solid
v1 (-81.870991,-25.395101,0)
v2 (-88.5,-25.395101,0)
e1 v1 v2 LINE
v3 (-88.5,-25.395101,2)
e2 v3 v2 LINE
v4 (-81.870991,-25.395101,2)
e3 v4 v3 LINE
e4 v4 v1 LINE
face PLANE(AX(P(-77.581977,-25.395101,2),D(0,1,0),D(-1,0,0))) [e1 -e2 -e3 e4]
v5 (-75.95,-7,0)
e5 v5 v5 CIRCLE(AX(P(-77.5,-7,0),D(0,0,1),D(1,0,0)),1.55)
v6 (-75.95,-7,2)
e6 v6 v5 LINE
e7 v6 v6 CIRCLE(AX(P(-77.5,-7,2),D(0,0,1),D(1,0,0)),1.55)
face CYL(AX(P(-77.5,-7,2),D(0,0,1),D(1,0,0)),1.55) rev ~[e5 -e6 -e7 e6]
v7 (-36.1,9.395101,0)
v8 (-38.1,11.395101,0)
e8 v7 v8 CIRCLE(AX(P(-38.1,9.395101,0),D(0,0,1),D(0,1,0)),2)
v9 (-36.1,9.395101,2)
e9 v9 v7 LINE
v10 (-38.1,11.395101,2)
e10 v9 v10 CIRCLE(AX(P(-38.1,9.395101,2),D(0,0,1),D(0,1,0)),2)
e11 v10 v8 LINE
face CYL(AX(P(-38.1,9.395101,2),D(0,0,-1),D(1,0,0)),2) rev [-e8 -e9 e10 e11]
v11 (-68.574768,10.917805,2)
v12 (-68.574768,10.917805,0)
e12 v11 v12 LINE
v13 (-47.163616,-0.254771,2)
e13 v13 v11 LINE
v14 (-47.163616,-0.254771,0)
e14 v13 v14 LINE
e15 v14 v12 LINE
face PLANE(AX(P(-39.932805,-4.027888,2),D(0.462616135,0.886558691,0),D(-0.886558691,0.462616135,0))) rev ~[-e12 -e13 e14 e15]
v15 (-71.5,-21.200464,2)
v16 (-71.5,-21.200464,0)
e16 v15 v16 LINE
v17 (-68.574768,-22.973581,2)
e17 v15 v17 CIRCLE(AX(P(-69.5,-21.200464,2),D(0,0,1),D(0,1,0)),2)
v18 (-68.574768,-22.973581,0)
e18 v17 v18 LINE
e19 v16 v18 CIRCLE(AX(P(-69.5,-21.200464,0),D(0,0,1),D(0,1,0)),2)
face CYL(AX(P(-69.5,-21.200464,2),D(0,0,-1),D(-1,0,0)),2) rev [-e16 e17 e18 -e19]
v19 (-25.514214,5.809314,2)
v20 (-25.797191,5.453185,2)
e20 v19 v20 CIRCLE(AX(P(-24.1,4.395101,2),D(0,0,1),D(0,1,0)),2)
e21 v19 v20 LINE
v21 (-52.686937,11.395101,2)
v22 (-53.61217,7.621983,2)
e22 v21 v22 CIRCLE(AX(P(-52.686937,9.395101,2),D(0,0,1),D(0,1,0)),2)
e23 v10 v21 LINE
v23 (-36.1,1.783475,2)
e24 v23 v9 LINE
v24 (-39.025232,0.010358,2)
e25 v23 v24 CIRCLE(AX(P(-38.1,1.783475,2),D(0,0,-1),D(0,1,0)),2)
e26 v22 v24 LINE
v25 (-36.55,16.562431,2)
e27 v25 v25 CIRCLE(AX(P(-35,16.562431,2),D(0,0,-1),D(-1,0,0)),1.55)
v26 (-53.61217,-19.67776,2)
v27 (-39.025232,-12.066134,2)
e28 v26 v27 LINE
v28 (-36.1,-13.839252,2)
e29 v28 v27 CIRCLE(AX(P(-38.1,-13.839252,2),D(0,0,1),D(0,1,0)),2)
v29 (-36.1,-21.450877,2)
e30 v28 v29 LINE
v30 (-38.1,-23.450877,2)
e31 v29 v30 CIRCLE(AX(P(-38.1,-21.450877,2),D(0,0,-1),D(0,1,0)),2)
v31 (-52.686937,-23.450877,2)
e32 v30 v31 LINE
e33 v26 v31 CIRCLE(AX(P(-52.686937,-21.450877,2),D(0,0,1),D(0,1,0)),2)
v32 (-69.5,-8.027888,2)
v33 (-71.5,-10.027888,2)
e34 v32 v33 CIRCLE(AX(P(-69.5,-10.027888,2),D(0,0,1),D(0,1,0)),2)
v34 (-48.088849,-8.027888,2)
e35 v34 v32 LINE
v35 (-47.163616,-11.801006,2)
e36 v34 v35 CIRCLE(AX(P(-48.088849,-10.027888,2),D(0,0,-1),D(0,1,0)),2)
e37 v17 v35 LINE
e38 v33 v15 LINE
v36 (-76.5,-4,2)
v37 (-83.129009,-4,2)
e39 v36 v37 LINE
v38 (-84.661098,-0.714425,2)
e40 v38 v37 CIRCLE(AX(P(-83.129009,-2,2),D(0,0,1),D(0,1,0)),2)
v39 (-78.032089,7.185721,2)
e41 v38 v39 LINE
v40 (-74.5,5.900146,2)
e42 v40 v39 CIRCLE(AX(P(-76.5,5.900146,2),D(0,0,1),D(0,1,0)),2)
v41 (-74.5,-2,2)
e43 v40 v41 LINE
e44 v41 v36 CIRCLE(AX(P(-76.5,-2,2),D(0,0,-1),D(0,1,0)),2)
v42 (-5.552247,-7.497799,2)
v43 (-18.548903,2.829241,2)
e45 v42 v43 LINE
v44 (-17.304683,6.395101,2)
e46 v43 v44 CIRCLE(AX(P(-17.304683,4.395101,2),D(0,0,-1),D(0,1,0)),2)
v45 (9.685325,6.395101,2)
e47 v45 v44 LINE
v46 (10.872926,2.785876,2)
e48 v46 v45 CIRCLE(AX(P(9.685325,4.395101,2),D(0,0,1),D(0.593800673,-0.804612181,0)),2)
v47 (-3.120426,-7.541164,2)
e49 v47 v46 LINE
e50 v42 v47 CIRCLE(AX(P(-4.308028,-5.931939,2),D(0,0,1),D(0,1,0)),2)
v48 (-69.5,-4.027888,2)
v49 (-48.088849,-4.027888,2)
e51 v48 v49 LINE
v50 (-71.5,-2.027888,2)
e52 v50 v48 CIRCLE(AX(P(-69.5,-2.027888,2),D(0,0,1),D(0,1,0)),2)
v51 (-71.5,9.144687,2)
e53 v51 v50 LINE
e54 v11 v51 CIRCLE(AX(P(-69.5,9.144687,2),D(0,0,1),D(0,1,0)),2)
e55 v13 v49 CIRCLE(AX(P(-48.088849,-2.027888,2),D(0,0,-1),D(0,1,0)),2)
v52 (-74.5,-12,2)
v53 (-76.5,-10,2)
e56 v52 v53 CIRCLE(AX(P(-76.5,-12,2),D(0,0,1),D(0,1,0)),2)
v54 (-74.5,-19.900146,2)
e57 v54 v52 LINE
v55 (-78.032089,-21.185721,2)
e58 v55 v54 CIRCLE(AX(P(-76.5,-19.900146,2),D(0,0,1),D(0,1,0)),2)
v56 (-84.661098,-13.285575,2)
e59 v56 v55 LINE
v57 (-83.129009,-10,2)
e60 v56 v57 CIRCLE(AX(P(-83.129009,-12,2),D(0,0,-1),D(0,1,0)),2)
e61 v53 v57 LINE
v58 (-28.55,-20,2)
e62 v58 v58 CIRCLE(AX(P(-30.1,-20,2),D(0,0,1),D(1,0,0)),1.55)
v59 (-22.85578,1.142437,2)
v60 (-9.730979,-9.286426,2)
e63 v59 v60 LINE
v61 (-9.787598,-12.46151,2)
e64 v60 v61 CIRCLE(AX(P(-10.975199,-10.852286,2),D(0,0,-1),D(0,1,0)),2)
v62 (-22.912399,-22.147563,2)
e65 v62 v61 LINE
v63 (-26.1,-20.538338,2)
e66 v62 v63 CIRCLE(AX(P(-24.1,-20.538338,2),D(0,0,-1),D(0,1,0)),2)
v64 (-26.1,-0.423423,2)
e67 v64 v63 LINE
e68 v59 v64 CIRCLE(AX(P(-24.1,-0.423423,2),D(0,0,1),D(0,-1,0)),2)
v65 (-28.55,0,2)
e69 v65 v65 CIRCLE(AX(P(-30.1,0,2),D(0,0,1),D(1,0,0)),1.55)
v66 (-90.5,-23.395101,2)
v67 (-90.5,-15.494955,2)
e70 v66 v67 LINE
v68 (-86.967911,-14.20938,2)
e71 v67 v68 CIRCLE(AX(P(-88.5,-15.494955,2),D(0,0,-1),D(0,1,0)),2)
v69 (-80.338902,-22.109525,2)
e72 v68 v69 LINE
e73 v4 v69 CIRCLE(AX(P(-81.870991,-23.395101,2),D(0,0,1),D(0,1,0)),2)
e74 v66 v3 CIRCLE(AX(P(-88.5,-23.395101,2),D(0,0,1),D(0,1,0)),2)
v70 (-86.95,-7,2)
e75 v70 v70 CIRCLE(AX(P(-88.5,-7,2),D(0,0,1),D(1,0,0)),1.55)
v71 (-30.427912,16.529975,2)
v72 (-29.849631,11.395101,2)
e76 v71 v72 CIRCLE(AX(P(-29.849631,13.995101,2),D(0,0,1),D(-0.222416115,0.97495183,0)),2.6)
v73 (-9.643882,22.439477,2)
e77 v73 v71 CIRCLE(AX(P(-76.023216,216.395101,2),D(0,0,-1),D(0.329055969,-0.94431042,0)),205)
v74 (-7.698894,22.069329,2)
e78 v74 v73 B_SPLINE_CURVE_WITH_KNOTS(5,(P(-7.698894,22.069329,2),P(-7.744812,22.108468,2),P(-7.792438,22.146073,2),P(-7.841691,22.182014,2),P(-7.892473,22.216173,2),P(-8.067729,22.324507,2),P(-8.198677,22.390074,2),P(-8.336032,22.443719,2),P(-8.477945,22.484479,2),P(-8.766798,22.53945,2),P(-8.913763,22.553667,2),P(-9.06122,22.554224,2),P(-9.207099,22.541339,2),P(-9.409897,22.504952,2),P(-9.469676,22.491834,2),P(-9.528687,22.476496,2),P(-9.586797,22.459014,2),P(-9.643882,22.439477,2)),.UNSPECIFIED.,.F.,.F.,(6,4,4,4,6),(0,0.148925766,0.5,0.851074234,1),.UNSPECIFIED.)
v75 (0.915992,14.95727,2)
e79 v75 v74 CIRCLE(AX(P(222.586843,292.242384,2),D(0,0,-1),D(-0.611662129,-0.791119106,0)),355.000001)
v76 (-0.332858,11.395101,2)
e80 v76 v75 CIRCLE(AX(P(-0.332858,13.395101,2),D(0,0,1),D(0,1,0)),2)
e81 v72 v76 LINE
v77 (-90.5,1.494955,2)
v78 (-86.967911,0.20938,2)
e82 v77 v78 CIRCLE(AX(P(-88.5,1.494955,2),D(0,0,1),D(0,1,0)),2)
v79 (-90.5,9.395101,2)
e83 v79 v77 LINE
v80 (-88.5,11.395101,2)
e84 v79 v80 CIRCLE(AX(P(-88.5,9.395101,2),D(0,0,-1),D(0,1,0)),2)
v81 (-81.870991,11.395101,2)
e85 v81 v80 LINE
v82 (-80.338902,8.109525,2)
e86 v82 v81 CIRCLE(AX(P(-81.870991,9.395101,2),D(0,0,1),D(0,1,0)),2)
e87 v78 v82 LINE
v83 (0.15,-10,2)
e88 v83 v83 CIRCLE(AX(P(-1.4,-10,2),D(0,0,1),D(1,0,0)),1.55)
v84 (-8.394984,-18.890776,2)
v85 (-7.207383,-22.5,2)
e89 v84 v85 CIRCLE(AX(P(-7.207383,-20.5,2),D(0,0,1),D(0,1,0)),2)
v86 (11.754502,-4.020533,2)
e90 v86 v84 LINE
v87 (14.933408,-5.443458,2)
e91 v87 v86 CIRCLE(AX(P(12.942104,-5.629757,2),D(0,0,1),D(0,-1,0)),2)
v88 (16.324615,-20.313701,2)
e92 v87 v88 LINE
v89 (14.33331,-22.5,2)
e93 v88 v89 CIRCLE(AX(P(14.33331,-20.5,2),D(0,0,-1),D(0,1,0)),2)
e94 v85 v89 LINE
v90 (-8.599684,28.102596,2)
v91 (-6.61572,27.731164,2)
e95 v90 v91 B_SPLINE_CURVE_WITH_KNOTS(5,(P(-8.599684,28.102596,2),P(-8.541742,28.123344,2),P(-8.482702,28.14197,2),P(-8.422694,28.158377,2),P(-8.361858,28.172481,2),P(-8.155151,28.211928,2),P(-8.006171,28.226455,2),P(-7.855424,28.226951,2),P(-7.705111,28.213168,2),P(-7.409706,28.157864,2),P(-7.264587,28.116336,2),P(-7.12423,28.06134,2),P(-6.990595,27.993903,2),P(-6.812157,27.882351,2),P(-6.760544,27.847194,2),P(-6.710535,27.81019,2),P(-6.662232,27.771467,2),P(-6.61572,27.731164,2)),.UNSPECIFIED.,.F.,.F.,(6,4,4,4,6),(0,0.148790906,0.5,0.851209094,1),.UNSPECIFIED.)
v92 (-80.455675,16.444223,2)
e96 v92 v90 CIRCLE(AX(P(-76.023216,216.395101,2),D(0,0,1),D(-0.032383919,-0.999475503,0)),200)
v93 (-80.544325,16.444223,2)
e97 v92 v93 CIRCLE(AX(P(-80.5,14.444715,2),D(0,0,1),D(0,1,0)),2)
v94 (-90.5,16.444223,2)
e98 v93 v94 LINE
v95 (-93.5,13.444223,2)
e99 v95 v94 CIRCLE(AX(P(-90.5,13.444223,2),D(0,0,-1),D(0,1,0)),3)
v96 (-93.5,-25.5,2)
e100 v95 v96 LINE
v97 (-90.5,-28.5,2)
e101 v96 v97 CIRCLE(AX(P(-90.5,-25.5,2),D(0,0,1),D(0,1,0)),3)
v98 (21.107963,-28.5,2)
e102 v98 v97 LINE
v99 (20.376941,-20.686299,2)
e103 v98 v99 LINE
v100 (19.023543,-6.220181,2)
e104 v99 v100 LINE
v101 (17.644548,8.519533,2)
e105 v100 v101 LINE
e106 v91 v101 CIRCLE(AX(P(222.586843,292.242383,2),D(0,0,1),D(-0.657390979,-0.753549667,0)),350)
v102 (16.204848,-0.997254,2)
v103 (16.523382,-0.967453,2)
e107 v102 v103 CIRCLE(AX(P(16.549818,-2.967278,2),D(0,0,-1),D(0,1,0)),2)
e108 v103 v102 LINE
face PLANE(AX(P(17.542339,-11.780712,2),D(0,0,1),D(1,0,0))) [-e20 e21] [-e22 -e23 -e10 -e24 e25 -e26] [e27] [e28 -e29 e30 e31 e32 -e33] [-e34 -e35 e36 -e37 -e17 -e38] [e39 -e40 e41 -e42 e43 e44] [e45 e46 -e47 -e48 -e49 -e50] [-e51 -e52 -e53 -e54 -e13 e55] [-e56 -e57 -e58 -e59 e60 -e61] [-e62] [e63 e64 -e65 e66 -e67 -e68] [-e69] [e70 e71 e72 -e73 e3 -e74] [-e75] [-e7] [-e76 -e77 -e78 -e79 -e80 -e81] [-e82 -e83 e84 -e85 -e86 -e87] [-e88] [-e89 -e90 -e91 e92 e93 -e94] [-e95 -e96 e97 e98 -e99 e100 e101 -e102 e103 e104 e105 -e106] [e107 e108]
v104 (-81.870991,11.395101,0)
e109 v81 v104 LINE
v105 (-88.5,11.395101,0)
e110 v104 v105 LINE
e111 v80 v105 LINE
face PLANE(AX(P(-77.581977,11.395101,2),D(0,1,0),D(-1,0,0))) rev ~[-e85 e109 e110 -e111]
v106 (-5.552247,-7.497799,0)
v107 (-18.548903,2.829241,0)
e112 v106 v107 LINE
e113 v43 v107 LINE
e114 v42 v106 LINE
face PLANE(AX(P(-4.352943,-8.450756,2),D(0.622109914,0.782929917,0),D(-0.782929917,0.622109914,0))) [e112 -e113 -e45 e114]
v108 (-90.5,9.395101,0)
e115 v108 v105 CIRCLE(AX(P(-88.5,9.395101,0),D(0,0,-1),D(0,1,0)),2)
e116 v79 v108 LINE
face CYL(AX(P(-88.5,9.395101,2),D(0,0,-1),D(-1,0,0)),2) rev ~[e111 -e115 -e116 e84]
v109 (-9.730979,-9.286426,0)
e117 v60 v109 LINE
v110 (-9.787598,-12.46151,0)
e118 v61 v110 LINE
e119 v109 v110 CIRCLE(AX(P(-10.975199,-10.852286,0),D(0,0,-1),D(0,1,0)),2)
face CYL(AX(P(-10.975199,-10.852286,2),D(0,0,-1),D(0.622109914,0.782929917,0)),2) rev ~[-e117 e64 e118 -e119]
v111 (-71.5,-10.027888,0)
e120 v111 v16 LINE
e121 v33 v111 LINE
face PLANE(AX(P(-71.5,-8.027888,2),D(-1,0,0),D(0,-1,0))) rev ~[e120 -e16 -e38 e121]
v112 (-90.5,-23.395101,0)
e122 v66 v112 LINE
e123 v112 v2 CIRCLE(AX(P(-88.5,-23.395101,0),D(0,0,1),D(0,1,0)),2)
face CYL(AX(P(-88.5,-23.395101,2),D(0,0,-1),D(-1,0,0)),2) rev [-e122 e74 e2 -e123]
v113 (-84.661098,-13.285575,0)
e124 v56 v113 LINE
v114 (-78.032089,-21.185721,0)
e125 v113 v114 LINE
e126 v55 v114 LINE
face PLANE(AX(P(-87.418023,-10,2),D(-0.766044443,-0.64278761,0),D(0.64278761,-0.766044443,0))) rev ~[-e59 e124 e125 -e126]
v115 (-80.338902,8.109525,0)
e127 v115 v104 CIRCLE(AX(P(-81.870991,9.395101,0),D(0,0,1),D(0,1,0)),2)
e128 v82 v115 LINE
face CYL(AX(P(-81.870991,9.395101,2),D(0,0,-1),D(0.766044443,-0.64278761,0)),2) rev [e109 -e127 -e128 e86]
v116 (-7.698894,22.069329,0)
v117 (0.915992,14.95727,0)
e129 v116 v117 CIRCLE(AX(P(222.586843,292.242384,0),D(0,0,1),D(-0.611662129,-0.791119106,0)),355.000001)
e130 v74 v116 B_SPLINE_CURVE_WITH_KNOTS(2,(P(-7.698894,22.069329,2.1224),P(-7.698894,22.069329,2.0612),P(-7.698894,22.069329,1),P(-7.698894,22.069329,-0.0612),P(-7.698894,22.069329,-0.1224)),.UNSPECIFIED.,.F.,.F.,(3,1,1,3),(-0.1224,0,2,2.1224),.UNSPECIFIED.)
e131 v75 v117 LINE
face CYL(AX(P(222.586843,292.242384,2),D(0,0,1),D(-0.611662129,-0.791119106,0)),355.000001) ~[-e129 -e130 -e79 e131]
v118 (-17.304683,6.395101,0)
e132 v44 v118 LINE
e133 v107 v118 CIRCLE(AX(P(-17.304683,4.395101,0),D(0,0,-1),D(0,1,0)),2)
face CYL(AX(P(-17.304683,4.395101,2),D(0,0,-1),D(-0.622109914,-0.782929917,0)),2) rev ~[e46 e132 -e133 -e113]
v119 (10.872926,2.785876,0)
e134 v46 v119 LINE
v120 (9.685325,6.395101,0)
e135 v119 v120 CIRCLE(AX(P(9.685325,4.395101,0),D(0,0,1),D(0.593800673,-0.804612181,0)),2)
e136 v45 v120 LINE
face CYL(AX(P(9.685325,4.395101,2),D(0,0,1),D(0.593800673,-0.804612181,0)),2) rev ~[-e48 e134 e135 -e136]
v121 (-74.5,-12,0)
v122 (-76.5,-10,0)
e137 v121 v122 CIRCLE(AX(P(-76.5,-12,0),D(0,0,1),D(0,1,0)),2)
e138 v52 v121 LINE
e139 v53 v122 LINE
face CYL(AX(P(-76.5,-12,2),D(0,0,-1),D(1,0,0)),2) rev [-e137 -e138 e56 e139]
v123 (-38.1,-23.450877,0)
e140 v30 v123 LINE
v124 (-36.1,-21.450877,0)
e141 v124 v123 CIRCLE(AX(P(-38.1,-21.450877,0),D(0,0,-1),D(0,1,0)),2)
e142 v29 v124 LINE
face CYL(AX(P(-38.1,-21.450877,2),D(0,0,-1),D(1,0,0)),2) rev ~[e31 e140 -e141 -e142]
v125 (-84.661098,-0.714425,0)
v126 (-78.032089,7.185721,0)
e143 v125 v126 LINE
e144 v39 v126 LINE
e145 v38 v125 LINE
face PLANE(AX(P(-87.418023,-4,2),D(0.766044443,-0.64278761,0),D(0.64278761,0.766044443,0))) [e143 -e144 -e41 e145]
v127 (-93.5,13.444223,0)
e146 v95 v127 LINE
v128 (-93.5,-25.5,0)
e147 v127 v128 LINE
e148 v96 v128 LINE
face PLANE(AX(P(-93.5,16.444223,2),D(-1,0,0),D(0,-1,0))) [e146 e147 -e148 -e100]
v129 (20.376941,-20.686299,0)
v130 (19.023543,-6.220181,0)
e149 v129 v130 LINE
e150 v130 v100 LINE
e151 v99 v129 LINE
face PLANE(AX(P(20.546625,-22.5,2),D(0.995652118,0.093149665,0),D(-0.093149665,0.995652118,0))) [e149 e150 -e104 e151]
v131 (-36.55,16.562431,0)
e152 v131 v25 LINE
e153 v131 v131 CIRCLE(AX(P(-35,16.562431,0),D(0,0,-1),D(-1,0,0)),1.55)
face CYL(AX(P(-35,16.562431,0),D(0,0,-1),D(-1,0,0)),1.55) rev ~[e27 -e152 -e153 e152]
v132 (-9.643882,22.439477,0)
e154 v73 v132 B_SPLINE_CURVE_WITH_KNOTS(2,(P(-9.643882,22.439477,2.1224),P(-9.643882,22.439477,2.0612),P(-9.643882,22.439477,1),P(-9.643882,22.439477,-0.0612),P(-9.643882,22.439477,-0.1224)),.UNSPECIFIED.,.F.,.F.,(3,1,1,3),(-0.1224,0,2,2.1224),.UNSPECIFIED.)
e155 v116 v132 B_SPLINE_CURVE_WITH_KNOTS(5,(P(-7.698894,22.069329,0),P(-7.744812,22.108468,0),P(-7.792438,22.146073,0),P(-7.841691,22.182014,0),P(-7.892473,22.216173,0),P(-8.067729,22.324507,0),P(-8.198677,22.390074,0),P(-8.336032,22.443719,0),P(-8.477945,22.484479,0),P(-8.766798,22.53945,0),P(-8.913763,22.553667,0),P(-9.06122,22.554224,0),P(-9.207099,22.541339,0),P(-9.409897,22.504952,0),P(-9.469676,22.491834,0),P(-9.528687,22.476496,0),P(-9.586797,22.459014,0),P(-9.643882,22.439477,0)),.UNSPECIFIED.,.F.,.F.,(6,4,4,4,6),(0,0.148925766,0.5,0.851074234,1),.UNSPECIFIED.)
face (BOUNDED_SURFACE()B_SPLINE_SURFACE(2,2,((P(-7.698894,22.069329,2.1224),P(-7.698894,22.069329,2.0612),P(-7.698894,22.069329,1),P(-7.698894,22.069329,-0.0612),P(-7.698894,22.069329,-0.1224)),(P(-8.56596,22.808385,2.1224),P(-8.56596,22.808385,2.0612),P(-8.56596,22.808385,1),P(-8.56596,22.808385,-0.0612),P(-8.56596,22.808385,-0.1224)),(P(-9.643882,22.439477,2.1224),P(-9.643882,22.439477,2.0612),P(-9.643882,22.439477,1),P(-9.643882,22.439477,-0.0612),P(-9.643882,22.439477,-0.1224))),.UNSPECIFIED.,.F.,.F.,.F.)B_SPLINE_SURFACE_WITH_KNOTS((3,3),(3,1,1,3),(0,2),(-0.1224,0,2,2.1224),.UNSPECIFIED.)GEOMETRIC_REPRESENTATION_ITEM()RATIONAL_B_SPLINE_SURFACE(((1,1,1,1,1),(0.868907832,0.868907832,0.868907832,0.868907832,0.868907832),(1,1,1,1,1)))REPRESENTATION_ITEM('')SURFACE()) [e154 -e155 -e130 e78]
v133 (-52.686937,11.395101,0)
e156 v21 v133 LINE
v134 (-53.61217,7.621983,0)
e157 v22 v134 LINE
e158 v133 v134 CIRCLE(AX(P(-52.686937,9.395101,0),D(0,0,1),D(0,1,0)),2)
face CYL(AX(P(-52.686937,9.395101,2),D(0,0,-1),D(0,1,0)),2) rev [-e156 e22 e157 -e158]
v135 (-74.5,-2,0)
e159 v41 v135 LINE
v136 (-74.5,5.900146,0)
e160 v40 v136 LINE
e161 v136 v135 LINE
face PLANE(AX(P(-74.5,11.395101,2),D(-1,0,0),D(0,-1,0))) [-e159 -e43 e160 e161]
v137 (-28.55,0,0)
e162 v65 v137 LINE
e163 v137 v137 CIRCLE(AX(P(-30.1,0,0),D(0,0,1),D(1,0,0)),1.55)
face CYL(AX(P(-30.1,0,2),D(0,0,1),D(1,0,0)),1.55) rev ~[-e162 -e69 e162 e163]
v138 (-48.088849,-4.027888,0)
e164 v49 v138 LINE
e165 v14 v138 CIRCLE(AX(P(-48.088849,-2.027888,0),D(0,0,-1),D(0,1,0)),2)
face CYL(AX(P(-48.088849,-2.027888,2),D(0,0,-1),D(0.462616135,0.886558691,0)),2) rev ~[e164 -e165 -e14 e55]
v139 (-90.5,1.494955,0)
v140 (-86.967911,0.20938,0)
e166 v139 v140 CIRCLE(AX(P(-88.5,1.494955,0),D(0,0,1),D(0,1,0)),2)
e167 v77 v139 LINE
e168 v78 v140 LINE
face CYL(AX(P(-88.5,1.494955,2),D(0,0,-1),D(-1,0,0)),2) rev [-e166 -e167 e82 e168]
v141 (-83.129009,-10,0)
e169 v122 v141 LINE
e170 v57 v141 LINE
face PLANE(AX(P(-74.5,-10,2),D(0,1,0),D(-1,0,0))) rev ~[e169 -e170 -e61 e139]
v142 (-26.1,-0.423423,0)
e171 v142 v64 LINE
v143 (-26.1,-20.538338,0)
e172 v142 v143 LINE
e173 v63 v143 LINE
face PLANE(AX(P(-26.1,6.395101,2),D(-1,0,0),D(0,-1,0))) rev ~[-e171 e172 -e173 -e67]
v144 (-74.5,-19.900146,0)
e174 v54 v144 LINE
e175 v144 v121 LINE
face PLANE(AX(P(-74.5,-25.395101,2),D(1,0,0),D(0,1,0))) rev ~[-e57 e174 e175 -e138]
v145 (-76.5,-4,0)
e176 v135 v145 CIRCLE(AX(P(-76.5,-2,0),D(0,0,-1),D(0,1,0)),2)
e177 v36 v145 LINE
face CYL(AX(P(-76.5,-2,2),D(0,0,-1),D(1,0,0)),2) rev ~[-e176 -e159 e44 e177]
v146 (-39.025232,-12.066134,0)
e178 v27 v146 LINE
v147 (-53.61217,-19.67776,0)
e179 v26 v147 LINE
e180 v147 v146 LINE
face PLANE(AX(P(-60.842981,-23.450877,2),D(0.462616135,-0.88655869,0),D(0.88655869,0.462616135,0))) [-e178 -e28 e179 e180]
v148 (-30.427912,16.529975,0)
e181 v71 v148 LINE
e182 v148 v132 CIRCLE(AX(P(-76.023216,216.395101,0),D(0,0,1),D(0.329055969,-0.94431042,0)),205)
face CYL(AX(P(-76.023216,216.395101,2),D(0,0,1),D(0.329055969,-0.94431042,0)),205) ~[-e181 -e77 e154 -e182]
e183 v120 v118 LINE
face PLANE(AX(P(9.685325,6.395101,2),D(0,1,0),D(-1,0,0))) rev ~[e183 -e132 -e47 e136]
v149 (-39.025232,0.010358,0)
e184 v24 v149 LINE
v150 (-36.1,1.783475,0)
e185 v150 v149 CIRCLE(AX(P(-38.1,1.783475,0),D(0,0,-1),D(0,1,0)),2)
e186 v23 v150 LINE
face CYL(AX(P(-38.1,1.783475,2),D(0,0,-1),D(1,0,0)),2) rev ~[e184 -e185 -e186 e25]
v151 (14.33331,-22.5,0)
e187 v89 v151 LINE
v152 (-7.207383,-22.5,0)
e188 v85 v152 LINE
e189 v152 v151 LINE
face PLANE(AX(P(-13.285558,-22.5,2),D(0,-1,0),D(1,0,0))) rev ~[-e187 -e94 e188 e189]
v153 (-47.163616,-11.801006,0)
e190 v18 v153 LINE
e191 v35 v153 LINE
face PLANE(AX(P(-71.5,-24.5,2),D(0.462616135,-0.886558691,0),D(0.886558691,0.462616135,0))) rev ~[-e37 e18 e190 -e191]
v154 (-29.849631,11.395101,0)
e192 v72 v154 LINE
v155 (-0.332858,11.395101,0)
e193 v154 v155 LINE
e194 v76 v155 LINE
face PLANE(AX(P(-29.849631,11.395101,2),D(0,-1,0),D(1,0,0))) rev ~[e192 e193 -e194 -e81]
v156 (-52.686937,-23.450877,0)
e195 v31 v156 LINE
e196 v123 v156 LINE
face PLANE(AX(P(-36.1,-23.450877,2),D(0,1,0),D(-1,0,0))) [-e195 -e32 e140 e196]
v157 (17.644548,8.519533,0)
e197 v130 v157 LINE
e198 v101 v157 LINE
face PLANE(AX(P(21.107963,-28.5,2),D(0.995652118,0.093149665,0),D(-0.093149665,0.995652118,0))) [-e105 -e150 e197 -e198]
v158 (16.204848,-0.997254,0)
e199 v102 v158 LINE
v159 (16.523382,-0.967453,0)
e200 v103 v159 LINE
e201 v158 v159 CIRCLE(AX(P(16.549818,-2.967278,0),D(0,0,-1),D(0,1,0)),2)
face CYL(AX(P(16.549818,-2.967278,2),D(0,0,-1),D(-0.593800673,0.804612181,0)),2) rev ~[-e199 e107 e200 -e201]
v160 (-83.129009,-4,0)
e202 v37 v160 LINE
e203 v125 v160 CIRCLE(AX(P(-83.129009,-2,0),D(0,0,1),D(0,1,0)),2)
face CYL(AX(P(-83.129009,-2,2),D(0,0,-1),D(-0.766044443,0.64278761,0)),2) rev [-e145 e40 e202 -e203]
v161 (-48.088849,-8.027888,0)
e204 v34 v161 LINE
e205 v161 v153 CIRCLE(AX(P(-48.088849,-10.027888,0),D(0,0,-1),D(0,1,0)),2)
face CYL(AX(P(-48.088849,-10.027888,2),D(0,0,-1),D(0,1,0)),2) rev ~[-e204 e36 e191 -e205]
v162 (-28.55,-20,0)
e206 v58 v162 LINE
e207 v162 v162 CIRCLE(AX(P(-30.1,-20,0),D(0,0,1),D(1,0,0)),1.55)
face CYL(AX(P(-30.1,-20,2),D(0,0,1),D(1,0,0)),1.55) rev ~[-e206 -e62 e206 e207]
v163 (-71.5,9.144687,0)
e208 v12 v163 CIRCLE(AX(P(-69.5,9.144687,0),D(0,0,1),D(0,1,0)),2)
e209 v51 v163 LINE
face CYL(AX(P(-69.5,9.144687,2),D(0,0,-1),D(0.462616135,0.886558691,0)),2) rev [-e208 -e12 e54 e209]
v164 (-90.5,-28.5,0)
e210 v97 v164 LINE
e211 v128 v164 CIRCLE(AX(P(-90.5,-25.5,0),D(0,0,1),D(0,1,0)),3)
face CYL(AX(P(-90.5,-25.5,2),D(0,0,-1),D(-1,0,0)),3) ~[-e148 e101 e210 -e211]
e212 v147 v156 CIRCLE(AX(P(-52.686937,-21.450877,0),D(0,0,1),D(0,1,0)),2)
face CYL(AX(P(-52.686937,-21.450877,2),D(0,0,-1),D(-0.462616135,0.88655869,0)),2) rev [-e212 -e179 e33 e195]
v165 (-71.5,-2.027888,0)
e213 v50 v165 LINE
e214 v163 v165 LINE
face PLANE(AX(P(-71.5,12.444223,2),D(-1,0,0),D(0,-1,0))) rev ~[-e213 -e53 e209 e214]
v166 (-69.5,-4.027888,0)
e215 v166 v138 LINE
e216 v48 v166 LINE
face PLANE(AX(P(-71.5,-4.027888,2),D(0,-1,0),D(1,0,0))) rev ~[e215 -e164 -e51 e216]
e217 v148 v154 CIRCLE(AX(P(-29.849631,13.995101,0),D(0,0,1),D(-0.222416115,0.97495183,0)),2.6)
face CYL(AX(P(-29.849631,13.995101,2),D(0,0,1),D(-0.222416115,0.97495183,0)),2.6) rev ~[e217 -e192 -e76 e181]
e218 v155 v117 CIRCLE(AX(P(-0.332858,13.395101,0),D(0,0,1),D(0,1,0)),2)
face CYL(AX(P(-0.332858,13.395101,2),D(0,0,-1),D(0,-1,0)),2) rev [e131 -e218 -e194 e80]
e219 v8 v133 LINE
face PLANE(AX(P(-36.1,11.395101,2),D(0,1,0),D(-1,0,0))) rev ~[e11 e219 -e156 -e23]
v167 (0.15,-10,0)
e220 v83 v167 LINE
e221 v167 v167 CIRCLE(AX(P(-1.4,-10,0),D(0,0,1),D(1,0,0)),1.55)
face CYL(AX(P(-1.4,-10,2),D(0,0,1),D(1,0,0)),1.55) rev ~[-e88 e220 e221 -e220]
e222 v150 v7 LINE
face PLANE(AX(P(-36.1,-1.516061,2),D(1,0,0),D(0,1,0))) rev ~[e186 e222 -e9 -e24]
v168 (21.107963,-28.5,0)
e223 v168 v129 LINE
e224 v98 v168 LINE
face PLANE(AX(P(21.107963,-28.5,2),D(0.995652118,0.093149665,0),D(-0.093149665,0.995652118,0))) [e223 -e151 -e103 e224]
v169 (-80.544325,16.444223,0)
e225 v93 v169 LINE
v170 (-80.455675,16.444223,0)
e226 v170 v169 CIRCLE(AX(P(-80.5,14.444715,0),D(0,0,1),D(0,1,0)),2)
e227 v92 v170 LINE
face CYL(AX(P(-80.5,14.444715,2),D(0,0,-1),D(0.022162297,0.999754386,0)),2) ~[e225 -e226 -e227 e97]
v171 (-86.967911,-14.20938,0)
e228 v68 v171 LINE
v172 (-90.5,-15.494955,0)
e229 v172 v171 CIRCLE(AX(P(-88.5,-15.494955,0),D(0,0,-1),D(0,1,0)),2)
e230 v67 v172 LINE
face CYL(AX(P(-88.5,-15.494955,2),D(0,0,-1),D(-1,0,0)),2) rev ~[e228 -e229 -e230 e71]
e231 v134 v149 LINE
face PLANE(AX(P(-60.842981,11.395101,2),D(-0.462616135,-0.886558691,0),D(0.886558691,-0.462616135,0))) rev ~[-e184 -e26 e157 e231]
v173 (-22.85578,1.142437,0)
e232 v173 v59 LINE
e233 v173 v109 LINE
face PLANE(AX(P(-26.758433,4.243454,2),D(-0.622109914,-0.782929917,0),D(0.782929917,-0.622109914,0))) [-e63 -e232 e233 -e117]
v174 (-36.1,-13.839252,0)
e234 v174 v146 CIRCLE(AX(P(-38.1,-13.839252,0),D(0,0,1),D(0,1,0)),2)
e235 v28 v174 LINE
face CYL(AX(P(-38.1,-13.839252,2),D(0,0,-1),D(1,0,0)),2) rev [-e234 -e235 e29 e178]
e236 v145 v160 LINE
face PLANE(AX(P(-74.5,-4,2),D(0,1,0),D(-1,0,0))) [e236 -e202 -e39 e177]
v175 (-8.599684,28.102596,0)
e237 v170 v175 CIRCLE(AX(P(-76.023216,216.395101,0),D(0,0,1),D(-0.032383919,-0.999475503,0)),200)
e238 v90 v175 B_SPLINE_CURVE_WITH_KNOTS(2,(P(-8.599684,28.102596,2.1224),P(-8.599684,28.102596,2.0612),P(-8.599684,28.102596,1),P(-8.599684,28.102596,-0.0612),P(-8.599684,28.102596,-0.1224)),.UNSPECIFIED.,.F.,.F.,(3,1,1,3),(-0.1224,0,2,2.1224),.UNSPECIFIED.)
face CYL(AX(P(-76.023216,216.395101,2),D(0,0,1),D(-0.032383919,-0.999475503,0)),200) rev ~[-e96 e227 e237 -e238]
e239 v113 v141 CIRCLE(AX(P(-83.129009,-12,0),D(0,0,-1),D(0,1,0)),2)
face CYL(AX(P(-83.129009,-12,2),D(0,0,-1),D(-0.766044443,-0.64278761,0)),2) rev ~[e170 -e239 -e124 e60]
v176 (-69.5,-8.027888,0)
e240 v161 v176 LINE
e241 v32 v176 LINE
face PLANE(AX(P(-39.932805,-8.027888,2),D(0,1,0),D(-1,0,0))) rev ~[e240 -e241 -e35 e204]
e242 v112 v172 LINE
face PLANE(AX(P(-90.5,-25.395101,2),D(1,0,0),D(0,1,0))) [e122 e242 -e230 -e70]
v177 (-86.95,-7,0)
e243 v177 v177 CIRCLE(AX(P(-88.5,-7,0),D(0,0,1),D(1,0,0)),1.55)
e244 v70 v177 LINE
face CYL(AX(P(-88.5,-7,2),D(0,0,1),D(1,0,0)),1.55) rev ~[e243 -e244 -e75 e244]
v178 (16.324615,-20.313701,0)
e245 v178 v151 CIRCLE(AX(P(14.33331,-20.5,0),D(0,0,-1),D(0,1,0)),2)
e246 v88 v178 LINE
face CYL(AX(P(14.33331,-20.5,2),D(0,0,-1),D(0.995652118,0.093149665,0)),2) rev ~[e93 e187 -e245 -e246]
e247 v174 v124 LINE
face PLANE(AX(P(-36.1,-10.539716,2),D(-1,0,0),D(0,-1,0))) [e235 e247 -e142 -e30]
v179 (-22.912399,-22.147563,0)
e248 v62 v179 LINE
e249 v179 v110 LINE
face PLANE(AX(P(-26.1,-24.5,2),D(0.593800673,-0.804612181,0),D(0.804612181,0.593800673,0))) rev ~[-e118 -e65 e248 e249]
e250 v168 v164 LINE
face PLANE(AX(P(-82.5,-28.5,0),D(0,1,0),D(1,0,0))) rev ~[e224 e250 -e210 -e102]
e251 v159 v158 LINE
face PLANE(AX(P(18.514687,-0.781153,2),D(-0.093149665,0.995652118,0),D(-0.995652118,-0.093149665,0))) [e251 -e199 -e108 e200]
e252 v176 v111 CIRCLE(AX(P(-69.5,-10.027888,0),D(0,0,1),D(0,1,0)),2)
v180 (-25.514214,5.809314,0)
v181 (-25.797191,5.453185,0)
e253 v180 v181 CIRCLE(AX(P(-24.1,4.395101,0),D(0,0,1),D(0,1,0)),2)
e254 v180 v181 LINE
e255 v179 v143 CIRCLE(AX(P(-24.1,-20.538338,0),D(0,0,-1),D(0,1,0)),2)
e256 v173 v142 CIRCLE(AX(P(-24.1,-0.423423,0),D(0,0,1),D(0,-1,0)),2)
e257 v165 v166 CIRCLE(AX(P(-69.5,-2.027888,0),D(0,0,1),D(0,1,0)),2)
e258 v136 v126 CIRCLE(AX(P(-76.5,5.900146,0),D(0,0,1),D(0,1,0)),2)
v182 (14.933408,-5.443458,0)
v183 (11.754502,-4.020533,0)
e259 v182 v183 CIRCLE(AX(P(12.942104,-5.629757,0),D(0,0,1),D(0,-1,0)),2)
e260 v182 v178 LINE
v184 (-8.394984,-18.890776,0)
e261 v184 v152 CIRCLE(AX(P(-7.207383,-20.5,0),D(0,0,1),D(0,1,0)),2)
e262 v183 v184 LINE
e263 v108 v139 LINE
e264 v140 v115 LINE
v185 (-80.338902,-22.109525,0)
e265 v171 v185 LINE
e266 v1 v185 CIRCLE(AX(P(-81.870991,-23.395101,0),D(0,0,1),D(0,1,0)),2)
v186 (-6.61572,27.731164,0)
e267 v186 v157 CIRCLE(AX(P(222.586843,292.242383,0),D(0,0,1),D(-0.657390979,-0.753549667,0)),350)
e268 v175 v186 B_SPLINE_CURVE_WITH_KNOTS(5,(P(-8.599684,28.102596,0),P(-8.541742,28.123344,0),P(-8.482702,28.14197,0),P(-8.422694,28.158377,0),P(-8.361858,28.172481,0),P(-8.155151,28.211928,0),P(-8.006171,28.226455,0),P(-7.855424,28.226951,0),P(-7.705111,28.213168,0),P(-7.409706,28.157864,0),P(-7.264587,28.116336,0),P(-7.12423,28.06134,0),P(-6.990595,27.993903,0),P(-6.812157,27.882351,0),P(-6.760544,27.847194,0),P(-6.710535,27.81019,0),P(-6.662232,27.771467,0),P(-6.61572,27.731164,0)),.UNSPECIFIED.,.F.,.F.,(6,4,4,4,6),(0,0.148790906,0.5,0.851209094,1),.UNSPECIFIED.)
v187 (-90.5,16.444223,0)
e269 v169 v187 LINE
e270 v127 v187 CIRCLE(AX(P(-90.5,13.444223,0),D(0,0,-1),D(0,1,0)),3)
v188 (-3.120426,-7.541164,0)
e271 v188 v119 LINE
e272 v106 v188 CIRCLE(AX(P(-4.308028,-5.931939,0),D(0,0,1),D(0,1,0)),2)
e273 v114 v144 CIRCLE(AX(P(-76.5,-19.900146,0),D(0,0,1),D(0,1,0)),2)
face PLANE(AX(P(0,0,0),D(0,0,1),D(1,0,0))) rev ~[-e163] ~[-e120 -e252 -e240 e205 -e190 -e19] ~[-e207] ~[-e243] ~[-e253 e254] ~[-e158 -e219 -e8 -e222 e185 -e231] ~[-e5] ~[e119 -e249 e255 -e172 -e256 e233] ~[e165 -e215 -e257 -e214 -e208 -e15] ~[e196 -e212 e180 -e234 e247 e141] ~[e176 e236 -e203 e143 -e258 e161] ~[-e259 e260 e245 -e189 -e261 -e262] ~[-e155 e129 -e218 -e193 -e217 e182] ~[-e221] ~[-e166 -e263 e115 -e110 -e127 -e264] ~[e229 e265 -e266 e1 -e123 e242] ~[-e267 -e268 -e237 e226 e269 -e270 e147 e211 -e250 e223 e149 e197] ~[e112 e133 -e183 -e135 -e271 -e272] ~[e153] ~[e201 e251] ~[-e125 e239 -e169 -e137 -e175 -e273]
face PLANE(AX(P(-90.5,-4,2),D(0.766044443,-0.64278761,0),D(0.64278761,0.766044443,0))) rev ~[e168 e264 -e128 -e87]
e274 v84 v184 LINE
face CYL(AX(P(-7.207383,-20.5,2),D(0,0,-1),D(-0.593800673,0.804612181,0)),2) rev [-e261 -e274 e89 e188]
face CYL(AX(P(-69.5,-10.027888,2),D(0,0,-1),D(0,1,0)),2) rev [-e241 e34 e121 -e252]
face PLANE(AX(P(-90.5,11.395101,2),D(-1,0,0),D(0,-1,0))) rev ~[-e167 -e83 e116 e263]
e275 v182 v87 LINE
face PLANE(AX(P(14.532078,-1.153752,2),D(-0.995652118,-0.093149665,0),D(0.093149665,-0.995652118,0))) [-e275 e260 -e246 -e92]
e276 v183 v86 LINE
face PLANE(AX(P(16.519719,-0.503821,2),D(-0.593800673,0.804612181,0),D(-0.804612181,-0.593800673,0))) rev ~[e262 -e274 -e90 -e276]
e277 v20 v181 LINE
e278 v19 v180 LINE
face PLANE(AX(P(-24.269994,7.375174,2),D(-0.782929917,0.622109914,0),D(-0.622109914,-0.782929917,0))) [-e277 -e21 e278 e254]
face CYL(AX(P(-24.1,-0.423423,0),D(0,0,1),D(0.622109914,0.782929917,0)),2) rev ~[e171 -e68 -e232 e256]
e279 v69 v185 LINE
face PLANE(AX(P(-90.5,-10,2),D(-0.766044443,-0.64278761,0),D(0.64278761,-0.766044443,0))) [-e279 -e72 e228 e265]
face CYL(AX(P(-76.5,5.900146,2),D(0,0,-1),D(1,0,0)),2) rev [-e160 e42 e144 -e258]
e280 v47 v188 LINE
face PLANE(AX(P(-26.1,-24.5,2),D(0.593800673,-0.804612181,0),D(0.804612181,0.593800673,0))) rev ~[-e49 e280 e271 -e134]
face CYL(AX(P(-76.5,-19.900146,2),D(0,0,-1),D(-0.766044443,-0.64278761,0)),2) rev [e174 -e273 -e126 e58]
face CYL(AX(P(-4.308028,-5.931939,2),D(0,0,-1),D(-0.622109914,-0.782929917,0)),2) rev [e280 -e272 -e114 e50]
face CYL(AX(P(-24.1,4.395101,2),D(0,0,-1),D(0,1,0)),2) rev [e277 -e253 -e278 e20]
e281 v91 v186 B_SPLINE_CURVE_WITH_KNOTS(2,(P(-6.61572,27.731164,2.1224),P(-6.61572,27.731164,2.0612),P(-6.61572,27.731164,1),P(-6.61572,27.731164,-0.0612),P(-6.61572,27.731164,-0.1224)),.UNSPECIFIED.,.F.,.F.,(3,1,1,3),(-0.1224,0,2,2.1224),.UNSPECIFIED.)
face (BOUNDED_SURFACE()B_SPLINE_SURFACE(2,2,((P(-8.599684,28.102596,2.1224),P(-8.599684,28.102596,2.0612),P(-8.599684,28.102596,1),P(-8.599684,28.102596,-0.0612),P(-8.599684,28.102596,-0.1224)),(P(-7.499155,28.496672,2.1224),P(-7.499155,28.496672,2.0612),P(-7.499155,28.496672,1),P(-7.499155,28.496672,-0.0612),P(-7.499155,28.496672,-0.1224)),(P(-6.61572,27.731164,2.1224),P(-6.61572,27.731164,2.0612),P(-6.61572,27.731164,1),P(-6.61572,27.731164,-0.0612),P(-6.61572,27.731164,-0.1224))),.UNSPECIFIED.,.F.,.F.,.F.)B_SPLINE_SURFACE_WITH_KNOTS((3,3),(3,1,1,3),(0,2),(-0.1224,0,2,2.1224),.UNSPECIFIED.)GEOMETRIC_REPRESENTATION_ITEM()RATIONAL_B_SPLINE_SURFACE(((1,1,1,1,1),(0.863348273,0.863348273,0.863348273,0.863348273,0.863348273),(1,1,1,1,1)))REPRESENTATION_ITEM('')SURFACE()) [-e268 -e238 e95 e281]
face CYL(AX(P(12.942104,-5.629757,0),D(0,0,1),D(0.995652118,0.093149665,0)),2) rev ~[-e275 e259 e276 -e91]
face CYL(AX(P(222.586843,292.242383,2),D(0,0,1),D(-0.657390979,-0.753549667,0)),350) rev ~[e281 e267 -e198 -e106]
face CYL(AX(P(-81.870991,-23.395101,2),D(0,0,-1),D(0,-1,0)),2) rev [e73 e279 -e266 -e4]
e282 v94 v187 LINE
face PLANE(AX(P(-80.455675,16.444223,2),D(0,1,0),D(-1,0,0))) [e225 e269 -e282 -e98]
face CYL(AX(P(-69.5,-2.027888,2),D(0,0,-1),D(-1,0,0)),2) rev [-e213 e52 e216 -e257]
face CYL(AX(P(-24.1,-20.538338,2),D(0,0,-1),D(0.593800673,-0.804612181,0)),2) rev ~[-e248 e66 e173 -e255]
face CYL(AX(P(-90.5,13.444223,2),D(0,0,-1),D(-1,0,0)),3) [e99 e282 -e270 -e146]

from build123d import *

# Parameters (mm, degrees)
SKETCH_1_W           = 165
SKETCH_1_H           = 57
EXTRUDE_1_DEPTH      = 2
CUT_EXTRUDE_1_DEPTH  = 6
SKETCH_4_R           = 1.55
CUT_EXTRUDE_3_DEPTH  = 33
SKETCH_8_R           = 1.55
CUT_EXTRUDE_5_DEPTH  = 10
SKETCH_9_R           = 1.55
CUT_EXTRUDE_6_DEPTH  = 10
FILLET_3_R           = 2
FILLET_4_R           = 2
CUT_EXTRUDE_7_DEPTH  = 10
FILLET_8_R           = 2
CUT_EXTRUDE_8_DEPTH  = 10
FILLET_9_R           = 2
CUT_EXTRUDE_9_DEPTH  = 10
FILLET_10_R          = 2
EXTRUDE_4_DEPTH      = 2
FILLET_11_R          = 2
EXTRUDE_5_DEPTH      = 2
FILLET_12_R          = 2
CUT_EXTRUDE_10_DEPTH = 10
EXTRUDE_6_DEPTH      = 2
FILLET_13_R          = 3
SKETCH_18_R          = 1.55
CUT_EXTRUDE_12_DEPTH = 2
FILLET_14_R          = 2


with BuildPart() as part:
    # 草图1 → 凸台-拉伸1 (new body)
    with BuildSketch(Plane.XY):
        Rectangle(SKETCH_1_W, SKETCH_1_H)
    extrude(amount=EXTRUDE_1_DEPTH)

    # 草图2 → 切除-拉伸1 (cut)
    with BuildSketch(Plane.XY.offset(2)):
        with BuildLine():
            Line((82.5, 28.5), (-7.5, 28.5))
            ThreePointArc((-7.5, 28.5), (35.318614374, -3.444293093), (82.5, -28.5))
            Line((82.5, -28.5), (82.5, 28.5))
        make_face()
        with BuildLine():
            Line((-82.5, 28.5), (-82.5, 16.5))
            ThreePointArc((-82.5, 16.5), (-44.425115885, 18.906974283), (-7.5, 28.5))
            Line((-7.5, 28.5), (-82.5, 28.5))
        make_face()
    extrude(amount=-CUT_EXTRUDE_1_DEPTH, mode=Mode.SUBTRACT)

    # 草图4 → 切除-拉伸3 (cut)
    with BuildSketch(Plane.XY.offset(2)):
        with Locations((-77.5, -7)):
            Circle(SKETCH_4_R)
    extrude(amount=-CUT_EXTRUDE_3_DEPTH, mode=Mode.SUBTRACT)

    # 草图8 → 切除-拉伸5 (cut)
    with BuildSketch(Plane.XY.offset(2)):
        with Locations((-1.4, -10)):
            Circle(SKETCH_8_R)
        with Locations((-30.1, -20)):
            Circle(SKETCH_8_R)
        with Locations((-30.1, 0)):
            Circle(SKETCH_8_R)
    extrude(amount=-CUT_EXTRUDE_5_DEPTH, mode=Mode.SUBTRACT)

    # 草图9 → 切除-拉伸6 (cut)
    with BuildSketch(Plane(origin=(0, 0, 0), x_dir=(-1, 0, 0), z_dir=(0, 0, -1))):
        with Locations((35, 16.562431315)):
            Circle(SKETCH_9_R)
        with Locations((-40, -14.583150631)):
            Circle(SKETCH_9_R)
    extrude(amount=-CUT_EXTRUDE_6_DEPTH, mode=Mode.SUBTRACT)

    # 圆角3
    fillet_3_edges = [part.edges().sort_by_distance(p)[0] for p in [
        (-7.5, 28.5, 1),
    ]]
    fillet(fillet_3_edges, radius=FILLET_3_R)

    # 圆角4
    fillet_4_edges = [part.edges().sort_by_distance(p)[0] for p in [
        (-82.5, 16.5, 1),
        (-82.5, -28.5, 1),
    ]]
    fillet(fillet_4_edges, radius=FILLET_4_R)

    # 草图10 → 切除-拉伸7 (cut)
    with BuildSketch(Plane.XY.offset(2)):
        with BuildLine():
            Line((-29.849630584, 11.395100666), (5.446787044, 11.395100666))
            ThreePointArc((5.446787044, 11.395100666), (-1.632648985, 17.014079013), (-8.566742511, 22.811464555))
            ThreePointArc((-8.566742511, 22.811464555), (-19.410140236, 19.367286283), (-30.427912484, 16.529975425))
            ThreePointArc((-30.427912484, 16.529975425), (-32.433297975, 13.704131917), (-29.849630584, 11.395100666))
        make_face()
    extrude(amount=-CUT_EXTRUDE_7_DEPTH, mode=Mode.SUBTRACT)

    # 圆角8
    fillet_8_edges = [part.edges().sort_by_distance(p)[0] for p in [
        (-8.566742511, 22.811464555, 1),
        (5.446787044, 11.395100666, 1),
    ]]
    fillet(fillet_8_edges, radius=FILLET_8_R)

    # 草图11 → 切除-拉伸8 (cut)
    with BuildSketch(Plane.XY.offset(2)):
        Polygon((-36.1, -23.450877229), (-60.842981063, -23.450877229), (-36.1, -10.539715916), align=None)
        Polygon((-39.932804883, -8.027888281), (-71.5, -8.027888281), (-71.5, -24.5), align=None)
        Polygon((-39.932804883, -4.027888281), (-71.5, 12.444223438), (-71.5, -4.027888281), align=None)
        Polygon((-36.1, -1.516060646), (-36.1, 11.395100666), (-60.842981063, 11.395100666), align=None)
    extrude(amount=-CUT_EXTRUDE_8_DEPTH, mode=Mode.SUBTRACT)

    # 圆角9
    fillet_9_edges = [part.edges().sort_by_distance(p)[0] for p in [
        (-39.932804883, -8.027888281, 1),
        (-71.5, -24.5, 1),
        (-71.5, -8.027888281, 1),
        (-39.932804883, -4.027888281, 1),
        (-71.5, -4.027888281, 1),
        (-71.5, 12.444223438, 1),
        (-36.1, 11.395100666, 1),
        (-36.1, -1.516060646, 1),
        (-60.842981063, 11.395100666, 1),
        (-36.1, -23.450877229, 1),
        (-60.842981063, -23.450877229, 1),
        (-36.1, -10.539715916, 1),
    ]]
    fillet(fillet_9_edges, radius=FILLET_9_R)

    # 草图12 → 切除-拉伸9 (cut)
    with BuildSketch(Plane.XY.offset(2)):
        with BuildLine():
            Line((-26.1, 6.395100666), (-26.1, -24.5))
            Line((-26.1, -24.5), (10.872926165, 2.785876305))
            ThreePointArc((10.872926165, 2.785876305), (11.585120693, 5.020221166), (9.68532482, 6.395100666))
            Line((9.68532482, 6.395100666), (-26.1, 6.395100666))
        make_face()
        with BuildLine():
            Line((16.519718688, -0.503821347), (-13.285557865, -22.5))
            Line((-13.285557865, -22.5), (51.996010319, -22.5))
            ThreePointArc((51.996010319, -22.5), (33.937003057, -12.019408482), (16.519718688, -0.503821347))
        make_face()
    extrude(amount=-CUT_EXTRUDE_9_DEPTH, mode=Mode.SUBTRACT)

    # 圆角10
    fillet_10_edges = [part.edges().sort_by_distance(p)[0] for p in [
        (16.519718688, -0.503821347, 1),
        (51.996010319, -22.5, 1),
        (-13.285557865, -22.5, 1),
        (-26.1, 6.395100666, 1),
        (-26.1, -24.5, 1),
    ]]
    fillet(fillet_10_edges, radius=FILLET_10_R)

    # 草图13 → 凸台-拉伸4 (add)
    with BuildSketch(Plane.XY.offset(2)):
        Polygon((-26.758433391, 4.243454395), (-7.263956073, -11.246702958), (-4.352943402, -8.450756462), (-24.269993734, 7.375174063), align=None)
    extrude(amount=-EXTRUDE_4_DEPTH)

    # 圆角11
    fillet_11_edges = [part.edges().sort_by_distance(p)[0] for p in [
        (-26.1, 3.720268435, 1),
        (-7.686529087, -10.910929786, 1),
        (-4.352943402, -8.450756462, 1),
        (-23.036564134, 6.395100666, 1),
    ]]
    fillet(fillet_11_edges, radius=FILLET_11_R)

    # 草图14 → 凸台-拉伸5 (add)
    with BuildSketch(Plane.XY.offset(2)):
        Polygon((14.53207819, -1.153752135), (16.546586595, -22.68629933), (20.546624568, -22.5), (18.514686662, -0.781153475), align=None)
    extrude(amount=-EXTRUDE_5_DEPTH)

    # 圆角12
    fillet_12_edges = [part.edges().sort_by_distance(p)[0] for p in [
        (14.603571968, -1.917930204, 1),
        (16.529157093, -22.5, 1),
        (20.546624568, -22.5, 1),
        (18.626422966, -1.975473255, 1),
    ]]
    fillet(fillet_12_edges, radius=FILLET_12_R)

    # 草图15 → 切除-拉伸10 (cut)
    with BuildSketch(Plane.XY.offset(2)):
        with BuildLine():
            Line((21.107963193, -28.5), (17.644547538, 8.519533342))
            ThreePointArc((17.644547538, 8.519533342), (49.082122431, -11.724904385), (82.5, -28.5))
            Line((82.5, -28.5), (21.107963193, -28.5))
        make_face()
    extrude(amount=-CUT_EXTRUDE_10_DEPTH, mode=Mode.SUBTRACT)

    # 草图17 → 凸台-拉伸6 (add)
    with BuildSketch(Plane.XY.offset(2)):
        Polygon((-80.455675407, 16.444223438), (-93.5, 16.444223438), (-93.5, -28.5), (-80.442860064, -28.5), align=None)
    extrude(amount=-EXTRUDE_6_DEPTH)

    # 圆角13
    fillet_13_edges = [part.edges().sort_by_distance(p)[0] for p in [
        (-93.5, -28.5, 1),
        (-93.5, 16.444223438, 1),
    ]]
    fillet(fillet_13_edges, radius=FILLET_13_R)

    # 草图18 → 切除-拉伸12 (cut)
    with BuildSketch(Plane.XY.offset(2)):
        with Locations((-88.5, -7)):
            Circle(SKETCH_18_R)
        Polygon((-74.5, -4), (-87.418023291, -4), (-74.5, 11.395100666), align=None)
        Polygon((-90.5, 11.395100666), (-90.5, -4), (-77.581976709, 11.395100666), align=None)
        Polygon((-87.418023291, -10), (-74.5, -25.395100666), (-74.5, -10), align=None)
        Polygon((-90.5, -10), (-77.581976709, -25.395100666), (-90.5, -25.395100666), align=None)
    extrude(amount=-CUT_EXTRUDE_12_DEPTH, mode=Mode.SUBTRACT)

    # 圆角14
    fillet_14_edges = [part.edges().sort_by_distance(p)[0] for p in [
        (-87.418023291, -10, 1),
        (-74.5, -10, 1),
        (-74.5, -25.395100666, 1),
        (-90.5, -25.395100666, 1),
        (-90.5, -10, 1),
        (-77.581976709, -25.395100666, 1),
        (-74.5, 11.395100666, 1),
        (-74.5, -4, 1),
        (-87.418023291, -4, 1),
        (-90.5, 11.395100666, 1),
        (-77.581976709, 11.395100666, 1),
        (-90.5, -4, 1),
    ]]
    fillet(fillet_14_edges, radius=FILLET_14_R)


solid = part.part
